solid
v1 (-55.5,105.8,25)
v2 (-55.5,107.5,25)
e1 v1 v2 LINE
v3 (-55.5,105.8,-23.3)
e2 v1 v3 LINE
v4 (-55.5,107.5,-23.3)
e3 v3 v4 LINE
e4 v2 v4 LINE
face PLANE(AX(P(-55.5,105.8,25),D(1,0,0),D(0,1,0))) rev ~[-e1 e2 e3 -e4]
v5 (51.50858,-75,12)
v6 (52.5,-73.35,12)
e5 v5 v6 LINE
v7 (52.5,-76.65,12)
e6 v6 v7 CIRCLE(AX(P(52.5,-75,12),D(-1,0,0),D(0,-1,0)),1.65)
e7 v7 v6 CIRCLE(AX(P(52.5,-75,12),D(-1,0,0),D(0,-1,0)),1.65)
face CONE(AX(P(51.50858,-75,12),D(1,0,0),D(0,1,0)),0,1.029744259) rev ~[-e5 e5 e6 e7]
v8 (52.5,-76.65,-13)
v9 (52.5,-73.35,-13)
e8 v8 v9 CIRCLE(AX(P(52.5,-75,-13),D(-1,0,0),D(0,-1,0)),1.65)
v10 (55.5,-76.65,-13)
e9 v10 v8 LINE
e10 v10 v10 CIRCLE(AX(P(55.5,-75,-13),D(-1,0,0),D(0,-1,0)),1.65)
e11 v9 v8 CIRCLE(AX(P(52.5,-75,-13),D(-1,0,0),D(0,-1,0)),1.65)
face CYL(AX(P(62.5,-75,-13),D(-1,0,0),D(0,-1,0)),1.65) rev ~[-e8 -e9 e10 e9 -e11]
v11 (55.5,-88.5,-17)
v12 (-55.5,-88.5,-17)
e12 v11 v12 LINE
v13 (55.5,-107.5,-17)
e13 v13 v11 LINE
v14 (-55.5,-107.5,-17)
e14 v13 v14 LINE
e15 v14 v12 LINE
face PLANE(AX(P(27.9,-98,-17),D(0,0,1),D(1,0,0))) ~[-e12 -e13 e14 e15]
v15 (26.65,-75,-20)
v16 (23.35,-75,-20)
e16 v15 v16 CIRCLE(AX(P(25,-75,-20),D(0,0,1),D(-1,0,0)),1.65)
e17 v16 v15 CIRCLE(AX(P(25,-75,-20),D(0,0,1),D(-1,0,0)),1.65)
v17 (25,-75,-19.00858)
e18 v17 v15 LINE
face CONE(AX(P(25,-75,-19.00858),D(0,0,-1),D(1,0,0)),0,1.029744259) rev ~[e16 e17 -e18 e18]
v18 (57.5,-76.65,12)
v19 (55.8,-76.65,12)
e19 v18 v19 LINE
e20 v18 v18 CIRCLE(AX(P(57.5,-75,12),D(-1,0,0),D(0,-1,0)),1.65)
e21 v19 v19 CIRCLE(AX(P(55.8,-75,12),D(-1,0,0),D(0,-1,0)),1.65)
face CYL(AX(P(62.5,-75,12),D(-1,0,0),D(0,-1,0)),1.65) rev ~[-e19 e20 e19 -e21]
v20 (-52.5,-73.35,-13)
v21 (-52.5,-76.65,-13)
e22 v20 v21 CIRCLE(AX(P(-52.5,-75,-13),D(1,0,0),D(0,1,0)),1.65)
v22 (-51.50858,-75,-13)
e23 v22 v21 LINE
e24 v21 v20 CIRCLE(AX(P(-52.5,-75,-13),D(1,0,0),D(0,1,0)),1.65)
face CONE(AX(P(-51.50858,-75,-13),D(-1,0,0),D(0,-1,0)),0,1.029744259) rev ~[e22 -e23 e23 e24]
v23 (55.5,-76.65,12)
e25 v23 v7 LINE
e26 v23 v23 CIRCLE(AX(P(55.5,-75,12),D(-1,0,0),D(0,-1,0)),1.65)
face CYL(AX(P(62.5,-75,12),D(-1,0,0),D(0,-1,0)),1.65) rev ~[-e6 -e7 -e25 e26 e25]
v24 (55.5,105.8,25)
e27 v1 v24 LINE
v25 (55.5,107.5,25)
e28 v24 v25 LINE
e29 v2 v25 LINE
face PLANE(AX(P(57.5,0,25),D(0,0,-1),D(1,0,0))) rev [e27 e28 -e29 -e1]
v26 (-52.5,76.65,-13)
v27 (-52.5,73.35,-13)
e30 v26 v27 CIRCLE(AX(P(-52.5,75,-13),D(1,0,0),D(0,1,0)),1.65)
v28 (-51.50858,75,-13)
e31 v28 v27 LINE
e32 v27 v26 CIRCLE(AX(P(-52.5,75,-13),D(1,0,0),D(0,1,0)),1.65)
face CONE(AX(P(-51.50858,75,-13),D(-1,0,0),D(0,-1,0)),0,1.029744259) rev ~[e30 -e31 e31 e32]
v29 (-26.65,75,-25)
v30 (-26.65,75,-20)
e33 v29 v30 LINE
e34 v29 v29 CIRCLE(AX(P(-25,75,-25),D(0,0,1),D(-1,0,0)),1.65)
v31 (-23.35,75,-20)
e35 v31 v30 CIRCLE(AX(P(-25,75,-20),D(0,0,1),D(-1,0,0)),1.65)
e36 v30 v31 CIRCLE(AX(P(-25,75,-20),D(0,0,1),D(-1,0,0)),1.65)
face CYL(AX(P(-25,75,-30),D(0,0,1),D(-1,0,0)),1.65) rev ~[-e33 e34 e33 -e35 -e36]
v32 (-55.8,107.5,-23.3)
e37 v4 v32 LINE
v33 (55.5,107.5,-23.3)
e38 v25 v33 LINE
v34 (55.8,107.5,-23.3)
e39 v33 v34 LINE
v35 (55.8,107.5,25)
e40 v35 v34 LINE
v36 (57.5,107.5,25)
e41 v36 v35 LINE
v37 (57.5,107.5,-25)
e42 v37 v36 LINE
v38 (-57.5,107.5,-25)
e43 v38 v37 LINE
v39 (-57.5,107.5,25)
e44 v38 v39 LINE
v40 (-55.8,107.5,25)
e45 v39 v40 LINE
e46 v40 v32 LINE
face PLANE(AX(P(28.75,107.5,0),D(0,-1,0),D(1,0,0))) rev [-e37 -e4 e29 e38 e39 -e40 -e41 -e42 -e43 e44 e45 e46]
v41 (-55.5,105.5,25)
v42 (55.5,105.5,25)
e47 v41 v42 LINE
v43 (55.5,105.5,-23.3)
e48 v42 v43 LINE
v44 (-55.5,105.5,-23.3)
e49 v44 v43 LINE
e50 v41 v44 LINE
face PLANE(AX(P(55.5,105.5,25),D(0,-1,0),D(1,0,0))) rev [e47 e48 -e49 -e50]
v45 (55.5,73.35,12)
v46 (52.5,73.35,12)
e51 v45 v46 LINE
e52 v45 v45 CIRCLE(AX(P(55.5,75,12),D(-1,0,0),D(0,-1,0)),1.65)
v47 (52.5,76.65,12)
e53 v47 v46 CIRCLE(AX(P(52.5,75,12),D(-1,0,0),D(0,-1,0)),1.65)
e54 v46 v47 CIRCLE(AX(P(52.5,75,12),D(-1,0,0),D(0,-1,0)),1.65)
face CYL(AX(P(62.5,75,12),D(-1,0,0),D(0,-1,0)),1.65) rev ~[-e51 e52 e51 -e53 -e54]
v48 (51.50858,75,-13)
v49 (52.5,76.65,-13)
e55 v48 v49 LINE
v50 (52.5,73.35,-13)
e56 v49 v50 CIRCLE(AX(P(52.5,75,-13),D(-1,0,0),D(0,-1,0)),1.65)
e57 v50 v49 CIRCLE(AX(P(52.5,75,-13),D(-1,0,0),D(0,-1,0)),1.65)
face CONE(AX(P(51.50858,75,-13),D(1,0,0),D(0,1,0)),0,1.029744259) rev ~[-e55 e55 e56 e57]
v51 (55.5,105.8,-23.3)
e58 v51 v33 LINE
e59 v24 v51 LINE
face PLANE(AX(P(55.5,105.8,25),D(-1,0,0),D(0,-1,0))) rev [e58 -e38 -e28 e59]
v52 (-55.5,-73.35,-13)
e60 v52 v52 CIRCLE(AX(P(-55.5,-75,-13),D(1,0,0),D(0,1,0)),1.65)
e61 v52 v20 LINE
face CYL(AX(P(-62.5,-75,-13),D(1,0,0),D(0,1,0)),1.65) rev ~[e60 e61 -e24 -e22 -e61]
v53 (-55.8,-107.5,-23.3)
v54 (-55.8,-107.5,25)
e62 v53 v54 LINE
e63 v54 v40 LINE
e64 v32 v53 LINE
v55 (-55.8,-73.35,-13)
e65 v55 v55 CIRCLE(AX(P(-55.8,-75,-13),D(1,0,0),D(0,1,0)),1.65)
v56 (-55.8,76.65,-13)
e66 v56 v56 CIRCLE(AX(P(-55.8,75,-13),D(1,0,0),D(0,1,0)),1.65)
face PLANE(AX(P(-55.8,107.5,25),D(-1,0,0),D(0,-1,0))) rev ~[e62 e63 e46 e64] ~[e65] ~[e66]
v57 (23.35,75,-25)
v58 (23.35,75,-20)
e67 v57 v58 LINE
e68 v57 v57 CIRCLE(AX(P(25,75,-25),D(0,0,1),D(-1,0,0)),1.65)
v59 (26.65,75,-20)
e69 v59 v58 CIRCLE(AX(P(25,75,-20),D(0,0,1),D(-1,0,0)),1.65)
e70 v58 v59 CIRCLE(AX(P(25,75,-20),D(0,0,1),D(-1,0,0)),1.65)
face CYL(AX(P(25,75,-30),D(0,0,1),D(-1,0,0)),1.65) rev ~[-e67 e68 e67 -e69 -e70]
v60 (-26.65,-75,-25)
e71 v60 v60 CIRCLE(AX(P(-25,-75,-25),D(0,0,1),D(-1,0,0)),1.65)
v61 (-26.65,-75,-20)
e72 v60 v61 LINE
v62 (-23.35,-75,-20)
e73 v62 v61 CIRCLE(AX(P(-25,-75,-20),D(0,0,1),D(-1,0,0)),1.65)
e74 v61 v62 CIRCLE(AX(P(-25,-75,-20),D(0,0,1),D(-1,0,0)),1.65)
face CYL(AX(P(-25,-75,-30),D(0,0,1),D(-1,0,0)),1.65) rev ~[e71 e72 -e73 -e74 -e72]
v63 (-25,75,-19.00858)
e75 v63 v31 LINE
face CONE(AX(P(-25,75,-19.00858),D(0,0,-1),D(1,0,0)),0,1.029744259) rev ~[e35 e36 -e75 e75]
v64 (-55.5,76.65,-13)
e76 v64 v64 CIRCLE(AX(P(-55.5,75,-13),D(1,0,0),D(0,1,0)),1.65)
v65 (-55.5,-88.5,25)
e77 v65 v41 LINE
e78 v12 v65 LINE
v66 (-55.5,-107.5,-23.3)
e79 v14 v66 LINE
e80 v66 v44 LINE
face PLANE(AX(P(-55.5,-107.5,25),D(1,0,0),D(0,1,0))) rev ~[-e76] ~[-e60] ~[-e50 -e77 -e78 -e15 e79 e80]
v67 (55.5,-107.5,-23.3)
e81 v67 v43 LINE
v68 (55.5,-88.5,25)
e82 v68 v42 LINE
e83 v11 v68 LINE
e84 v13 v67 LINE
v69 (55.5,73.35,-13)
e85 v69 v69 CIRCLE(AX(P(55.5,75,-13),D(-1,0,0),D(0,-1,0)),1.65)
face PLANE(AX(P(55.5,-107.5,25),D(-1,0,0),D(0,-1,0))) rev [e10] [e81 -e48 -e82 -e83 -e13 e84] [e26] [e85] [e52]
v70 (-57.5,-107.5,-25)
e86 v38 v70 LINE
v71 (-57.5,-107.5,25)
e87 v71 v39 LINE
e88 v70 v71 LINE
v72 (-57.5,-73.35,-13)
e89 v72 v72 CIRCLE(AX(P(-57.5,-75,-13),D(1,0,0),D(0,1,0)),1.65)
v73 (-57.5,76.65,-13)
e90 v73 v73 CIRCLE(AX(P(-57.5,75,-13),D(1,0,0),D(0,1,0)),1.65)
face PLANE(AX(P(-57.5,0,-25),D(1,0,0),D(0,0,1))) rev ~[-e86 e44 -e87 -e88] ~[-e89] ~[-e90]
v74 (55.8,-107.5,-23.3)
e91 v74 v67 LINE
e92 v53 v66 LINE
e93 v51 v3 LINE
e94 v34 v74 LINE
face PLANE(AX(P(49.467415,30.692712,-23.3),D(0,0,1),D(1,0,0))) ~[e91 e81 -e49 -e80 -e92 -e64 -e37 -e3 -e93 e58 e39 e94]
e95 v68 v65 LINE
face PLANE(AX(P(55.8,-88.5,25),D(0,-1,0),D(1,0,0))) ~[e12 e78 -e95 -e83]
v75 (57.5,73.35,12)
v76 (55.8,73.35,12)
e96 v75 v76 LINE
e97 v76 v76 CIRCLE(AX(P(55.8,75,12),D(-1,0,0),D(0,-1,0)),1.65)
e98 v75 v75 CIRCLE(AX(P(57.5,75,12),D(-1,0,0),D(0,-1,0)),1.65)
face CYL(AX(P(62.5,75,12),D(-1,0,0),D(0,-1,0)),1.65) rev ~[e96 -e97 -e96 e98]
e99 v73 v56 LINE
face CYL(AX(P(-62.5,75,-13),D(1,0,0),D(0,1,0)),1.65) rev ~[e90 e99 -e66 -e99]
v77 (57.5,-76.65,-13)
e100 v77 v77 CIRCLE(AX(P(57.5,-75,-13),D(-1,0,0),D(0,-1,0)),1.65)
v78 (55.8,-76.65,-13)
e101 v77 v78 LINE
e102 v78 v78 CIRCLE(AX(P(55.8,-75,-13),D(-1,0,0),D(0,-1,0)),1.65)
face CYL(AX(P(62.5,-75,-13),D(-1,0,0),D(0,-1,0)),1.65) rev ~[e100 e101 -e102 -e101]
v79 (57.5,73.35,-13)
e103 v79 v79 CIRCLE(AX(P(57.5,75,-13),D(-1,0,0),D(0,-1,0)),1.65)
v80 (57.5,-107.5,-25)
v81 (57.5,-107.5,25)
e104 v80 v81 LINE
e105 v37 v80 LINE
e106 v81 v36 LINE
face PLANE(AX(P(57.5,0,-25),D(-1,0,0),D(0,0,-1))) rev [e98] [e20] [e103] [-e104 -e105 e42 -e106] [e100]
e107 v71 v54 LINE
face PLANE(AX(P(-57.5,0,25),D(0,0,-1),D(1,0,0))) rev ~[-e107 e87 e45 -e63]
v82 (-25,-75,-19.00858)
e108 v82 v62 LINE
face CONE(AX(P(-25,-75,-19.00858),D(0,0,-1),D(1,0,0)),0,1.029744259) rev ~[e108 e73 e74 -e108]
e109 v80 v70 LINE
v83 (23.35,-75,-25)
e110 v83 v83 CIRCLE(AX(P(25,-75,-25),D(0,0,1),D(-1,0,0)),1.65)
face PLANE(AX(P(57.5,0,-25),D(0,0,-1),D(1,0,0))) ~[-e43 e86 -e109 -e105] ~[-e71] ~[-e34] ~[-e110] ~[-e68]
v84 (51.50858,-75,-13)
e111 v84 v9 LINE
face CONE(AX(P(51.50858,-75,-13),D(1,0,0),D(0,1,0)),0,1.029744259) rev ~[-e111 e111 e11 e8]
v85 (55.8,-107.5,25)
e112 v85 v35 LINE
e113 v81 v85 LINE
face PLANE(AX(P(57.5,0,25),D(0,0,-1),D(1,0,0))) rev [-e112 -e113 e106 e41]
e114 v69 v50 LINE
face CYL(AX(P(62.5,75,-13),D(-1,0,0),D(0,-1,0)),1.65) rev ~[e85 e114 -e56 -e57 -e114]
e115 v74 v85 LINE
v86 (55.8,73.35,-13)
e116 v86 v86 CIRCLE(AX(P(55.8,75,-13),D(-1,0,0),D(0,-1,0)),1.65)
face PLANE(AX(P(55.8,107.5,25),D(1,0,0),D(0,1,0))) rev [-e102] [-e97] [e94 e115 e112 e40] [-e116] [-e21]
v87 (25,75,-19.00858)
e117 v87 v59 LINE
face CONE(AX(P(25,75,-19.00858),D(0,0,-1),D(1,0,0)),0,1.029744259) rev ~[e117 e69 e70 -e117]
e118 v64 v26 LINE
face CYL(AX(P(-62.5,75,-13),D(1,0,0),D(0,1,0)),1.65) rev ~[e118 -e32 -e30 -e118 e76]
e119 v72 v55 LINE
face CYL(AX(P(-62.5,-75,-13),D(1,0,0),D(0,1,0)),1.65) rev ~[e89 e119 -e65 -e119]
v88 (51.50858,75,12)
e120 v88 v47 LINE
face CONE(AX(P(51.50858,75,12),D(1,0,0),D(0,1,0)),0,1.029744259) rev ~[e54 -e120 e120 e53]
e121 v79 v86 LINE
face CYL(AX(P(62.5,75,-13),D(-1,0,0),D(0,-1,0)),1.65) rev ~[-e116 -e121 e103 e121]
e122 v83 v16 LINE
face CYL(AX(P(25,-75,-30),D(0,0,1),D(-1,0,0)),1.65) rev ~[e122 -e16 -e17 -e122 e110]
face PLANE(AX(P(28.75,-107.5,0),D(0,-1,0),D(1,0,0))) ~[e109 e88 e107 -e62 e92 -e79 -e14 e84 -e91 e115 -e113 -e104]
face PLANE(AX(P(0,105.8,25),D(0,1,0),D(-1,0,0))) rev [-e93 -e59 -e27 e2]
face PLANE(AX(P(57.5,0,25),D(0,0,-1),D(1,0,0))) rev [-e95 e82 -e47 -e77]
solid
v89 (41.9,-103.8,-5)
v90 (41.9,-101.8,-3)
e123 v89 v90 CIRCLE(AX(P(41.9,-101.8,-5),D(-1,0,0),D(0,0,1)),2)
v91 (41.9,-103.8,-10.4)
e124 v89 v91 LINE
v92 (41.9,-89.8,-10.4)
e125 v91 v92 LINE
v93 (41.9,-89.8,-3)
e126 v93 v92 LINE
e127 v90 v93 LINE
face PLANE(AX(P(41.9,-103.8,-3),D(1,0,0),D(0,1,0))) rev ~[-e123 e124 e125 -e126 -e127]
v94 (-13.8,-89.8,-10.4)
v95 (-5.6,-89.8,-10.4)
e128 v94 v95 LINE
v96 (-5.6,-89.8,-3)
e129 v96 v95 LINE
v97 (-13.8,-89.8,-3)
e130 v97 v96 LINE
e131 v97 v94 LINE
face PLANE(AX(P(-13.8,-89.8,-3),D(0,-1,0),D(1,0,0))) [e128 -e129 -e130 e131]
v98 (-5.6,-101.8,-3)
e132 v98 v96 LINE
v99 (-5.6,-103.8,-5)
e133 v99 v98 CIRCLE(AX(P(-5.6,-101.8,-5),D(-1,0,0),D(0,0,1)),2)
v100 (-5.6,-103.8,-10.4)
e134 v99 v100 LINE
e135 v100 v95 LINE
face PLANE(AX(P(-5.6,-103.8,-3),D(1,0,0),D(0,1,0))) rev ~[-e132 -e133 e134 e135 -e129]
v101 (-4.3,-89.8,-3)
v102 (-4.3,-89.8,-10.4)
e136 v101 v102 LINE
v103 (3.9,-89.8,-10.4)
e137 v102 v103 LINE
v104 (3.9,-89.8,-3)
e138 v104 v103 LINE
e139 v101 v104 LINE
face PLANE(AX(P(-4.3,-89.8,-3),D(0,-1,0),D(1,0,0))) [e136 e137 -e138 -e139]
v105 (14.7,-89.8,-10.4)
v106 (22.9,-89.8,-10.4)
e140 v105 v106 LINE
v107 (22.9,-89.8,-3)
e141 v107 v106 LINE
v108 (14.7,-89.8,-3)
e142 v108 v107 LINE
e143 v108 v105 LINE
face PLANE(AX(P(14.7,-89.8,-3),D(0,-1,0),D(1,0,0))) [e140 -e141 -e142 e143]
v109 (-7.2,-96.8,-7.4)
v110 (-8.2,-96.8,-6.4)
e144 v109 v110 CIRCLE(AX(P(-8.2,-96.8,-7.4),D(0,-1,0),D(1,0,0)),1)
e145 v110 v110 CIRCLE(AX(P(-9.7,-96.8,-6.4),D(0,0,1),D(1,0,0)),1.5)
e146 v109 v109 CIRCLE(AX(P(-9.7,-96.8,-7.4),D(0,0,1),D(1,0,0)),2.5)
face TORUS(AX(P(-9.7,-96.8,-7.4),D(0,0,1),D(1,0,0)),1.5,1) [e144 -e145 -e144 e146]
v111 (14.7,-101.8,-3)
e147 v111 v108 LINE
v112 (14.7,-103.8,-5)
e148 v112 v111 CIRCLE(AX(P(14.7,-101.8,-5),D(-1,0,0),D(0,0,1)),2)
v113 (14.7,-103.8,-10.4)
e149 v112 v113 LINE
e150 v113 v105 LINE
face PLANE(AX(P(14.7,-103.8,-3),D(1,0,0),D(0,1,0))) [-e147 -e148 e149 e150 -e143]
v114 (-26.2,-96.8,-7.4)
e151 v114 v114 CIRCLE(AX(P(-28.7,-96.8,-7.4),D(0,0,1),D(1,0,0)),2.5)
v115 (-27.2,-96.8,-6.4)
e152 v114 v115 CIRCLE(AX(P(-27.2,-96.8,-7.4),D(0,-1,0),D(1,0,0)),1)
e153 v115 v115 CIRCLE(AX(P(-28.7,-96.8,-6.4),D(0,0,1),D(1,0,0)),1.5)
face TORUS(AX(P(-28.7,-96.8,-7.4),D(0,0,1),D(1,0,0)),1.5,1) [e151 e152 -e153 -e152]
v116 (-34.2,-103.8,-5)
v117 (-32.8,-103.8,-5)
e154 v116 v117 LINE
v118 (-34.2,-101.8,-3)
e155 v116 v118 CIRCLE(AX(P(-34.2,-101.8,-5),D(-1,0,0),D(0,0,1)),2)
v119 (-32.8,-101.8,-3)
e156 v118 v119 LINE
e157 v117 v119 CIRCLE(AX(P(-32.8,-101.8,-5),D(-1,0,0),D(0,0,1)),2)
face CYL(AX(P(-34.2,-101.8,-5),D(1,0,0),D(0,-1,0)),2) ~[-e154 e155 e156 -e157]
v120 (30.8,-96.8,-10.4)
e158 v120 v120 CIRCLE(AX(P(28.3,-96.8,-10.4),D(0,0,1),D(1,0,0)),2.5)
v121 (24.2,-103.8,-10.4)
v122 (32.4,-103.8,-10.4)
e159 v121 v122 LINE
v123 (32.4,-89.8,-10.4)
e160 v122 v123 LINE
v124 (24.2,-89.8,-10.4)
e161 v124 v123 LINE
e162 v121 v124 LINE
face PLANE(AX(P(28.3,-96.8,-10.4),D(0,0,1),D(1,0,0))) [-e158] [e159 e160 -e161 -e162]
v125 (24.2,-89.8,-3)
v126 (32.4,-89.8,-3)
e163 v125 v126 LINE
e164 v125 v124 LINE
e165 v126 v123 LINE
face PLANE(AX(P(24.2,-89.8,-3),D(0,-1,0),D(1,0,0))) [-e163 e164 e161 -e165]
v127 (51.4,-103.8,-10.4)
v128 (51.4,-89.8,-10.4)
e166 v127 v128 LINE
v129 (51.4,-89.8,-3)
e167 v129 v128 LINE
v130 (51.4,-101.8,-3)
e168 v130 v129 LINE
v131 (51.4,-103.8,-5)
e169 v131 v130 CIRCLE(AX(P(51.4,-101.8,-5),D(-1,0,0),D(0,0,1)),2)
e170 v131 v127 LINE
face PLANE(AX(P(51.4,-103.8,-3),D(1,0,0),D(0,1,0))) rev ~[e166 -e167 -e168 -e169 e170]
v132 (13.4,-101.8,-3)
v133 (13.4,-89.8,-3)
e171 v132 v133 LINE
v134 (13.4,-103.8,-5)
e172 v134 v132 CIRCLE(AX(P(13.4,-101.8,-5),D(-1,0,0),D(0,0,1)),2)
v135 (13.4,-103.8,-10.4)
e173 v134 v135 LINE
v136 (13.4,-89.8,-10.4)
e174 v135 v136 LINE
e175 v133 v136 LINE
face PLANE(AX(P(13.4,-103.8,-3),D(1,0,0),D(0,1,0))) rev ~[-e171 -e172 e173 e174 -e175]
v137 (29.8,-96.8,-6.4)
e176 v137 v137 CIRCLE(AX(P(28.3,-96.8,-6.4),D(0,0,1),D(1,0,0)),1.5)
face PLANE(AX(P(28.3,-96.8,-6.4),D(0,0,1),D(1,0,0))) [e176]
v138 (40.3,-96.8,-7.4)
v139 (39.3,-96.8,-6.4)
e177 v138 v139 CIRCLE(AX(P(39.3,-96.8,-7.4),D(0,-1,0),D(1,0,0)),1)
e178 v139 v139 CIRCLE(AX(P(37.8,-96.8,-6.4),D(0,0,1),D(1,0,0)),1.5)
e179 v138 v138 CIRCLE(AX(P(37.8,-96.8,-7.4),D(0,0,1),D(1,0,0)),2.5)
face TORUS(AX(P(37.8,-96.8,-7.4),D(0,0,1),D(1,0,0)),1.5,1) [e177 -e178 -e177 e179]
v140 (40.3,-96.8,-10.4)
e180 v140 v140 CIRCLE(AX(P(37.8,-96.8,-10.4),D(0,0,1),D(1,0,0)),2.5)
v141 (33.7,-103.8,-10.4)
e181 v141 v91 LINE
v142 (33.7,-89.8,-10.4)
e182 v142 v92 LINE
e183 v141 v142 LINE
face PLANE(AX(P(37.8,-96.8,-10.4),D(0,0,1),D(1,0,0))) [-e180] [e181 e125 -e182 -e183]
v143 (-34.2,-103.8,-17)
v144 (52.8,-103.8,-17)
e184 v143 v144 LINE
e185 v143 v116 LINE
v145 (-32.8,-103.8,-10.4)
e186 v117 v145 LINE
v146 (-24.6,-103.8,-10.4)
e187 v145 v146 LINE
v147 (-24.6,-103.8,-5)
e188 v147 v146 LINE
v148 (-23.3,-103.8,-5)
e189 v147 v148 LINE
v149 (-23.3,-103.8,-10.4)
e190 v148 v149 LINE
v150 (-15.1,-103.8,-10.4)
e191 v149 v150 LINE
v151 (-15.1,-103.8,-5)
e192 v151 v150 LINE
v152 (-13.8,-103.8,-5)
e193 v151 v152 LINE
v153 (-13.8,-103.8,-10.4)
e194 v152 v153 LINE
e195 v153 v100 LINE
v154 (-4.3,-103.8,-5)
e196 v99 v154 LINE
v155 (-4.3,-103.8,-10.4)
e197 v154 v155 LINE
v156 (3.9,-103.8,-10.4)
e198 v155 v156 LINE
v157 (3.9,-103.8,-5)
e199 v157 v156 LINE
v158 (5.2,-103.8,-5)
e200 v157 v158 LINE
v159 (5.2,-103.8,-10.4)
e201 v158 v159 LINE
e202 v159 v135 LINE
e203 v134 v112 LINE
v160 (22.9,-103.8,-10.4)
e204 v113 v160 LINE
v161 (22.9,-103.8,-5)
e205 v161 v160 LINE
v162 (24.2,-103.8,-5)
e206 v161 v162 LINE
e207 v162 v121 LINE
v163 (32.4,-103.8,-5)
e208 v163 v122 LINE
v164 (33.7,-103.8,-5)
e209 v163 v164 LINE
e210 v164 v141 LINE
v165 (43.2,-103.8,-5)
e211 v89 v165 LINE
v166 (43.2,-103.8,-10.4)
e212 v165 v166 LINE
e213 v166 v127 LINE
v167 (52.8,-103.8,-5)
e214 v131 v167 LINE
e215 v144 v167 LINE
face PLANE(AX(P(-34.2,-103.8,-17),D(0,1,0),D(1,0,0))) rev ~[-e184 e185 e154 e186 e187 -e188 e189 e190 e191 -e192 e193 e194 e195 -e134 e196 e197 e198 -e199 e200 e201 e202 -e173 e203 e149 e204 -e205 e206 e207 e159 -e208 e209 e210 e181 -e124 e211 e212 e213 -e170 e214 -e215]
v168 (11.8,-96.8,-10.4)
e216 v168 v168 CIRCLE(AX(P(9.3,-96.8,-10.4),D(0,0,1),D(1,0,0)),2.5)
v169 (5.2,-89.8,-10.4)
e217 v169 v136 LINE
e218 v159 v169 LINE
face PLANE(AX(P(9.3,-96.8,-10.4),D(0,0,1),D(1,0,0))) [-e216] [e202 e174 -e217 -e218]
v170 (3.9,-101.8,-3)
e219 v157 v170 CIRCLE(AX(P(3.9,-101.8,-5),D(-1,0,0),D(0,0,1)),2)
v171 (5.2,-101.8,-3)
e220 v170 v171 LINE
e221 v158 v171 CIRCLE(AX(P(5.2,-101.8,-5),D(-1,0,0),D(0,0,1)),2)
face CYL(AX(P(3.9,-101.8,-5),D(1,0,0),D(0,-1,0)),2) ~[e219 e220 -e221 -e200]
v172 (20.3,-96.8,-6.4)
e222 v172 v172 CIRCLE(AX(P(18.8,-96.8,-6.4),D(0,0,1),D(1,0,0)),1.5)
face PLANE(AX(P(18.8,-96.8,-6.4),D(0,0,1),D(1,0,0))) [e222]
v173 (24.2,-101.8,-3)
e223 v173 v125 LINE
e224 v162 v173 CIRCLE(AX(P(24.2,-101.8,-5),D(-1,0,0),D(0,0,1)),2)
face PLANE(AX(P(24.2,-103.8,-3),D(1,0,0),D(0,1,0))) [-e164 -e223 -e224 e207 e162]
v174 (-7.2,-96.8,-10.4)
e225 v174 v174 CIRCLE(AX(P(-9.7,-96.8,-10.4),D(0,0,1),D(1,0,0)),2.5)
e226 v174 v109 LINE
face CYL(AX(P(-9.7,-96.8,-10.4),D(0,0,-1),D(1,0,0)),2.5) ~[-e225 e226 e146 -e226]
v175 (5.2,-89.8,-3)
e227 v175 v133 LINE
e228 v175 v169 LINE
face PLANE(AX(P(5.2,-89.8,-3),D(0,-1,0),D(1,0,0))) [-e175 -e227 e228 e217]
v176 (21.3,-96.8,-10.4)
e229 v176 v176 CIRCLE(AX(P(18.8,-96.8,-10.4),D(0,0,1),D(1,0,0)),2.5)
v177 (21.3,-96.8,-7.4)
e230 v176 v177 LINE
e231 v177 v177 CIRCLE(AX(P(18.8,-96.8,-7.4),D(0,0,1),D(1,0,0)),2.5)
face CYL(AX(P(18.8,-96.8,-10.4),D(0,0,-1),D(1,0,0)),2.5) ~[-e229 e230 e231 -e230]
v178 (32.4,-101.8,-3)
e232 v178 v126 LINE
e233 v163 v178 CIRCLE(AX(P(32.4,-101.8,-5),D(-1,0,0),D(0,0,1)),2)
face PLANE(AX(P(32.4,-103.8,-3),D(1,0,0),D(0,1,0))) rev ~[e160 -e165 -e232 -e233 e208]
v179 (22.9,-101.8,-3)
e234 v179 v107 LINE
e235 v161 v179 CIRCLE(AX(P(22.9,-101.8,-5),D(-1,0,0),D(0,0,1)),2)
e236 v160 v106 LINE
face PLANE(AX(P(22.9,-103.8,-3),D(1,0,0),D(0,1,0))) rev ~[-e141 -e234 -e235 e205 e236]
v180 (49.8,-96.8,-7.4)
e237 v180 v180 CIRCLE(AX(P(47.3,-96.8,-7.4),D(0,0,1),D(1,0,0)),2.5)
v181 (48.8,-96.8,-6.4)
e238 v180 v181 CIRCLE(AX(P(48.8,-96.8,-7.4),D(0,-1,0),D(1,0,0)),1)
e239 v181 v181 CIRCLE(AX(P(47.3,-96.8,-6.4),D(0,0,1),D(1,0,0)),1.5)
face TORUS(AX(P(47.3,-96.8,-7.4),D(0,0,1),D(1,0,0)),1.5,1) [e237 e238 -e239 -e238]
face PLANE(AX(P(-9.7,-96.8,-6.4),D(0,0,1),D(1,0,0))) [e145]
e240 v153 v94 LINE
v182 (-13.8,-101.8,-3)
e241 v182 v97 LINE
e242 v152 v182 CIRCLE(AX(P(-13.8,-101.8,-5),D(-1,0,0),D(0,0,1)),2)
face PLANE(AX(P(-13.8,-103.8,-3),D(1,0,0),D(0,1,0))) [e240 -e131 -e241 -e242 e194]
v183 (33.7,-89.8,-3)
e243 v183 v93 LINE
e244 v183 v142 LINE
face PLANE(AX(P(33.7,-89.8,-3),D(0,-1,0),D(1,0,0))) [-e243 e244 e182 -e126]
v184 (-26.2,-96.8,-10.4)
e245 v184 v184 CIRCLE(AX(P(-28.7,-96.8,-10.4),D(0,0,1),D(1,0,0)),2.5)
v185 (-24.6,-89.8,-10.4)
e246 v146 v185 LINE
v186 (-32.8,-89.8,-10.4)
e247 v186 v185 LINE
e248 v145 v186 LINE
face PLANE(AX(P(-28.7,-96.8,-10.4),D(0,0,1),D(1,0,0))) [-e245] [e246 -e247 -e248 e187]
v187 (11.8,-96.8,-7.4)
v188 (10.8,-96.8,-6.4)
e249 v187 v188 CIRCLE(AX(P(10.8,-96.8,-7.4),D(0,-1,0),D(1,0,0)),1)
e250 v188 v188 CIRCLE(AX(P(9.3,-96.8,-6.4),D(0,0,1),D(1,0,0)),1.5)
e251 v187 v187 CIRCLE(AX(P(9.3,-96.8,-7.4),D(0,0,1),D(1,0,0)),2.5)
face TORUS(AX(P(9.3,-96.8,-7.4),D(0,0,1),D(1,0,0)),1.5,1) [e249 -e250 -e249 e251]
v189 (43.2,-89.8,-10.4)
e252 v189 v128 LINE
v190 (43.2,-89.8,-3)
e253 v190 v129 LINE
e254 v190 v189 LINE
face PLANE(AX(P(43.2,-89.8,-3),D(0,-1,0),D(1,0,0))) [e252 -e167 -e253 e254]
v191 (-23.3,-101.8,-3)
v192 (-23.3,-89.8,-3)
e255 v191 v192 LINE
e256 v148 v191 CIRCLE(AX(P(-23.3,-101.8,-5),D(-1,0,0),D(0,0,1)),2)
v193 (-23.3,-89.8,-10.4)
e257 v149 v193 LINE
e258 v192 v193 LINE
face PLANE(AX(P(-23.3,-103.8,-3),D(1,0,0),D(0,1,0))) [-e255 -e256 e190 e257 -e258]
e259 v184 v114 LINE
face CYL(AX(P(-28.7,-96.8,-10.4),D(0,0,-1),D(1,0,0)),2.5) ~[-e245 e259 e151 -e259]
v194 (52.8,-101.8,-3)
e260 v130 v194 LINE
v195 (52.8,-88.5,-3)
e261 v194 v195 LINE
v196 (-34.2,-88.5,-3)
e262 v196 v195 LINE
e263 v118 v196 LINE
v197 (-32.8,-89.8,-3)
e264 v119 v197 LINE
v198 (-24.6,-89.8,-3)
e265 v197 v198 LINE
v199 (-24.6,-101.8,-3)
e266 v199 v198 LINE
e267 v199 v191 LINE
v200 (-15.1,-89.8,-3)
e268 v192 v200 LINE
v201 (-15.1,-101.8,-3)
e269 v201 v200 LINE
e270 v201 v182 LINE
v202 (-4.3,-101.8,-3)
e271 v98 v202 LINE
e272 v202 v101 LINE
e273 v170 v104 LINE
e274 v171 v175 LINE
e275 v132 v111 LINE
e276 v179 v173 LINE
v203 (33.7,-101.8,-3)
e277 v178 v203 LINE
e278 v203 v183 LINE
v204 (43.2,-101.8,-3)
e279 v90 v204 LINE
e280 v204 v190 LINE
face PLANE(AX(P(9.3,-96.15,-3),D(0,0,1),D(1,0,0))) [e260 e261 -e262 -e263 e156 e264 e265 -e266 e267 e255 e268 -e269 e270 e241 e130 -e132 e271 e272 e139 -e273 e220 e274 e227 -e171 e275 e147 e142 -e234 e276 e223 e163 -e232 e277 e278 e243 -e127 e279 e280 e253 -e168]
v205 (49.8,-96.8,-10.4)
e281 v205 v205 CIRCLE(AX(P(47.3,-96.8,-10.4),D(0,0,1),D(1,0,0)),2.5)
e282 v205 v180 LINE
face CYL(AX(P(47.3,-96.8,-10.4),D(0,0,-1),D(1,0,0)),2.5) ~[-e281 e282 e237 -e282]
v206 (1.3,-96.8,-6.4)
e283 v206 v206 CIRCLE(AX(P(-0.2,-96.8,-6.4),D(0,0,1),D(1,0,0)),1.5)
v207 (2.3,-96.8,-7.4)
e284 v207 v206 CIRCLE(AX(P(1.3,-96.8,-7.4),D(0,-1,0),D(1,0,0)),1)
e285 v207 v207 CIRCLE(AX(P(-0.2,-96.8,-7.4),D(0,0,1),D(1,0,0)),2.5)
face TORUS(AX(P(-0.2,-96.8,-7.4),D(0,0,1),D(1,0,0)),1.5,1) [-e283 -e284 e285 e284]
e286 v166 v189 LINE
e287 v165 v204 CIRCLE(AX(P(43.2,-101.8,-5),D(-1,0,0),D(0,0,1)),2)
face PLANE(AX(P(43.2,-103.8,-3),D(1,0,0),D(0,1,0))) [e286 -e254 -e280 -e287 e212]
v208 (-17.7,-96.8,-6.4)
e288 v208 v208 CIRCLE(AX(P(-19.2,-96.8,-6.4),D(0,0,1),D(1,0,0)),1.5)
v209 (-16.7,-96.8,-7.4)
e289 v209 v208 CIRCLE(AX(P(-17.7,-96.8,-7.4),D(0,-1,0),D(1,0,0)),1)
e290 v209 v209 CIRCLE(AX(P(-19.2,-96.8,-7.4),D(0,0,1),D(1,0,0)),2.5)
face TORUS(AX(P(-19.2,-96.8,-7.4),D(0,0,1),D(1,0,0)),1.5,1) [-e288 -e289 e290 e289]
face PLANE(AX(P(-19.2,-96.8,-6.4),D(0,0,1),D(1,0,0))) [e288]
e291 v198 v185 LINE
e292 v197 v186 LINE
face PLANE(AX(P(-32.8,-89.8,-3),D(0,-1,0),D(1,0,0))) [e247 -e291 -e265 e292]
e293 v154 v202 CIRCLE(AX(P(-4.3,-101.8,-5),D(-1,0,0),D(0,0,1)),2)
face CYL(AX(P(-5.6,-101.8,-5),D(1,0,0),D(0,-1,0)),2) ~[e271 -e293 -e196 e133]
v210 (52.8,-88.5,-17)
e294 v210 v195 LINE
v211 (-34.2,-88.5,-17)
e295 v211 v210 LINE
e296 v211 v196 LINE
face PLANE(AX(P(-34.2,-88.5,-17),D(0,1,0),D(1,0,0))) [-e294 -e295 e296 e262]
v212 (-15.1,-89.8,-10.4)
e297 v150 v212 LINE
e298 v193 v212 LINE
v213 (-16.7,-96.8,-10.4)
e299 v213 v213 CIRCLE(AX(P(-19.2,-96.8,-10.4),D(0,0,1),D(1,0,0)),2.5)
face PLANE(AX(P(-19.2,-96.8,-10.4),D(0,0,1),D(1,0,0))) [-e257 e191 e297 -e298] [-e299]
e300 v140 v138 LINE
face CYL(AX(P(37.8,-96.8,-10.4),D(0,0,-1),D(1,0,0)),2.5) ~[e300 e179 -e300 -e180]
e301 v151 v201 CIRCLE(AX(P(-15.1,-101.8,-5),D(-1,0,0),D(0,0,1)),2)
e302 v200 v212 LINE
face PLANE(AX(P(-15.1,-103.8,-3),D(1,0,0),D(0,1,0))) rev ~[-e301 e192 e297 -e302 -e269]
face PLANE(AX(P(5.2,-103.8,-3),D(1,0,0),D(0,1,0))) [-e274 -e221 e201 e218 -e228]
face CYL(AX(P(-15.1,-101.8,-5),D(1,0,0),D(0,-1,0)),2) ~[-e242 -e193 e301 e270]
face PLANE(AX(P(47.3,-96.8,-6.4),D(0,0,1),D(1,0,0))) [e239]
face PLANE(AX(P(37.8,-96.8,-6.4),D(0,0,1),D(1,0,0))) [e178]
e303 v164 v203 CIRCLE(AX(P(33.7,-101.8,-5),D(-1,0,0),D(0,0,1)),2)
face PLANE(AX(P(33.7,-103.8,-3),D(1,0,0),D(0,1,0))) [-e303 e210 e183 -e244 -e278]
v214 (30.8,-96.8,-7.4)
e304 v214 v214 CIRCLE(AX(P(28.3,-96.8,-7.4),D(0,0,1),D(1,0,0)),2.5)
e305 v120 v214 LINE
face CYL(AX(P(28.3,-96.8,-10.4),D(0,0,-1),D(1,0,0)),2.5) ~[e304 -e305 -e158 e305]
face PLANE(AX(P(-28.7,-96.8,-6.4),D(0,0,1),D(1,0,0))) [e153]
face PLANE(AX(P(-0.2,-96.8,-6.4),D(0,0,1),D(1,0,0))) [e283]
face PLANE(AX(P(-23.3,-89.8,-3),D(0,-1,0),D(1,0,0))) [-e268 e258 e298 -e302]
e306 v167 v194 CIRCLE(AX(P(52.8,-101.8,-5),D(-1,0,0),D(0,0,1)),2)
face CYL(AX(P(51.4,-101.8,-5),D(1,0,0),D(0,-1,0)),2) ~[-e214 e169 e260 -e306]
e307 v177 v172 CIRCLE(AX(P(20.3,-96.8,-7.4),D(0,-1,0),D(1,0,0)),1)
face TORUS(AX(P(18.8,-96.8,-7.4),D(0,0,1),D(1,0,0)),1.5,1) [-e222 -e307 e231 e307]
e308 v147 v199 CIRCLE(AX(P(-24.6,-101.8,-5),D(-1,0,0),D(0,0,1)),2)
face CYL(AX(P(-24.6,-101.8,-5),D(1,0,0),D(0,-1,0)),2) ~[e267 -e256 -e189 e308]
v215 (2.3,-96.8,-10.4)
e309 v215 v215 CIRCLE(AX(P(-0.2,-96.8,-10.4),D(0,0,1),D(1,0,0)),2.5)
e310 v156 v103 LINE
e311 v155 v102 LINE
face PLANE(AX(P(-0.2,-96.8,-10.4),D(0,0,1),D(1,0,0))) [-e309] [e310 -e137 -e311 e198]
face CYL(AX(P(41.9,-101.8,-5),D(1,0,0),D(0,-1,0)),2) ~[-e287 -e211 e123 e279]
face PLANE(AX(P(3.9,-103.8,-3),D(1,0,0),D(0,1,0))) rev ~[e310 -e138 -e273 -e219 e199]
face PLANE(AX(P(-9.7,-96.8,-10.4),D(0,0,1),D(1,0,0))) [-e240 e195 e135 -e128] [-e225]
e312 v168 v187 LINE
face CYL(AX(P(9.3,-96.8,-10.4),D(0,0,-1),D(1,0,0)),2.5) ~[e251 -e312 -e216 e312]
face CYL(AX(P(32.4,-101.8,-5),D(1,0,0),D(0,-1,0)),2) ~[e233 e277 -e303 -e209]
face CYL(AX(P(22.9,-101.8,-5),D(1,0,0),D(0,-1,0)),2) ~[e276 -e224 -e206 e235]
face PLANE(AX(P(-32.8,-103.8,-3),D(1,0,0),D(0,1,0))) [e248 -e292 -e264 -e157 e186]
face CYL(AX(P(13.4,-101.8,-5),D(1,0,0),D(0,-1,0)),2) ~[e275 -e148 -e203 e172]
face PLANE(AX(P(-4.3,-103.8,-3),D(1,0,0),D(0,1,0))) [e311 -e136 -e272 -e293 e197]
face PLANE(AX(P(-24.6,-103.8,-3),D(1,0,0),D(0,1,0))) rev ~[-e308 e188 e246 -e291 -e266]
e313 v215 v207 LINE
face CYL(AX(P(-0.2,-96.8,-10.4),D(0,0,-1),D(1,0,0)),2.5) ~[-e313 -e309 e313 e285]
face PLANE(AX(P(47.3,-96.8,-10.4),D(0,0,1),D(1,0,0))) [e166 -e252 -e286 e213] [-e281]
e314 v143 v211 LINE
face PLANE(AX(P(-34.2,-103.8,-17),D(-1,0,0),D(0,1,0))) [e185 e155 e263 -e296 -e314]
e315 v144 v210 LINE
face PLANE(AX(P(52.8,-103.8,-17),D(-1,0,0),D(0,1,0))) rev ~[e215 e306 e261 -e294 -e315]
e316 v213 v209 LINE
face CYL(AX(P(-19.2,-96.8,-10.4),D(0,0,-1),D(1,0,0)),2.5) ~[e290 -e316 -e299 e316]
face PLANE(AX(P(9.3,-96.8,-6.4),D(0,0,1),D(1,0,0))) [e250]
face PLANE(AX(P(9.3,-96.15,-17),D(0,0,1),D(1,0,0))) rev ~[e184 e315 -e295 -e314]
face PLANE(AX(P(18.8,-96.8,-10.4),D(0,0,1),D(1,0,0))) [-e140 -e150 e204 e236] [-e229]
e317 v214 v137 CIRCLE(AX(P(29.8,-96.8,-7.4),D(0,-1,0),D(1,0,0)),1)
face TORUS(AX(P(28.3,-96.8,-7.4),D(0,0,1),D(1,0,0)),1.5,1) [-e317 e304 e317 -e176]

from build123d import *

# Parameters (mm, degrees)
F0_W             = 57.5
F0_H             = 50
F1_DEPTH         = 107.5
F2_W             = 55.8
F2_H             = 19
F3_DEPTH         = 42
F4_W             = 0.3
F4_H             = 19
F5_DEPTH         = 48.3
F7_W             = 87
F7_H             = 15.3
F8_DEPTH         = 14
F9_W             = 8.2
F9_H             = 14
F10_DEPTH        = 7.4
F11_R            = 2
F12_R            = 2.5
F13_DEPTH        = 4
F14_R            = 1
F18_D            = 3.3
F18_DEPTH        = 5
F18_TIP          = 0.9914200214
F18_ON_F17_D     = 3.3
F18_ON_F17_DEPTH = 5
F18_ON_F17_TIP   = 0.9914200214
F18_ON_F16_D     = 3.3
F18_ON_F16_DEPTH = 5
F18_ON_F16_TIP   = 0.9914200214


with BuildPart() as f1:
    # F0 (on Front) → F1 (new body, symmetric)
    with BuildSketch(Plane.XZ):
        with Locations((-28.75, 0)):
            Rectangle(F0_W, F0_H)
    extrude(amount=F1_DEPTH, both=True)

    # F2 (on face) → F3 (cut)
    with BuildSketch(Plane.XY.offset(25)):
        with Locations((-27.9, -98)):
            Rectangle(F2_W, F2_H)
    extrude(amount=-F3_DEPTH, mode=Mode.SUBTRACT)

    # F4 (on face) → F5 (cut)
    with BuildSketch(Plane.XY.offset(25)):
        Polygon((-55.8, 107.5), (-55.8, -88.5), (-55.5, -88.5), (-55.5, 105.5), (0, 105.5), (0, 105.8), (-55.5, 105.8), (-55.5, 107.5), align=None)
        with Locations((-55.65, -98)):
            Rectangle(F4_W, F4_H)
    extrude(amount=-F5_DEPTH, mode=Mode.SUBTRACT)

    # F6: F1 across plane


with BuildPart() as f1_1:
    add(f1.part)
    add(f1.part.mirror(Plane.YZ))

    # F18
    with Locations(Plane(origin=(-57.5, 0, 0), x_dir=(0, -1, 0), z_dir=(-1, 0, 0))):
        with Locations((-75, -13), (75, -13)):
            Hole(F18_D / 2, depth=F18_DEPTH)
            with Locations((0, 0, -(F18_DEPTH + F18_TIP / 2))):  # 118° drill point
                Cone(0, F18_D / 2, F18_TIP, mode=Mode.SUBTRACT)

    # F18 on F17
    with Locations(Plane(origin=(0, 0, -25), x_dir=(1, 0, 0), z_dir=(0, 0, -1))):
        with Locations((-25, -75), (-25, 75), (25, -75), (25, 75)):
            Hole(F18_ON_F17_D / 2, depth=F18_ON_F17_DEPTH)
            with Locations((0, 0, -(F18_ON_F17_DEPTH + F18_ON_F17_TIP / 2))):  # 118° drill point
                Cone(0, F18_ON_F17_D / 2, F18_ON_F17_TIP, mode=Mode.SUBTRACT)

    # F18 on F16
    with Locations(Plane.YZ.offset(57.5)):
        with Locations((-75, -13), (-75, 12), (75, 12), (75, -13)):
            Hole(F18_ON_F16_D / 2, depth=F18_ON_F16_DEPTH)
            with Locations((0, 0, -(F18_ON_F16_DEPTH + F18_ON_F16_TIP / 2))):  # 118° drill point
                Cone(0, F18_ON_F16_D / 2, F18_ON_F16_TIP, mode=Mode.SUBTRACT)


with BuildPart() as f8:
    # F7 (on face) → F8 (new body)
    with BuildSketch(Plane.XY.offset(-17)):
        with Locations((9.3, -96.15)):
            Rectangle(F7_W, F7_H)
    extrude(amount=F8_DEPTH)

    # F9 (on face) → F10 (cut)
    with BuildSketch(Plane.XY.offset(-3)):
        with Locations((-28.7, -96.8)):
            Rectangle(F9_W, F9_H)
        with Locations((-19.2, -96.8)):
            Rectangle(F9_W, F9_H)
        with Locations((-9.7, -96.8)):
            Rectangle(F9_W, F9_H)
        with Locations((-0.2, -96.8)):
            Rectangle(F9_W, F9_H)
        with Locations((9.3, -96.8)):
            Rectangle(F9_W, F9_H)
        with Locations((18.8, -96.8)):
            Rectangle(F9_W, F9_H)
        with Locations((28.3, -96.8)):
            Rectangle(F9_W, F9_H)
        with Locations((37.8, -96.8)):
            Rectangle(F9_W, F9_H)
        with Locations((47.3, -96.8)):
            Rectangle(F9_W, F9_H)
    extrude(amount=-F10_DEPTH, mode=Mode.SUBTRACT)

    # F11
    f11_edges = [f8.edges().sort_by_distance(p)[0] for p in [
        (-33.5, -103.8, -3),
        (-23.95, -103.8, -3),
        (-14.45, -103.8, -3),
        (-4.95, -103.8, -3),
        (4.55, -103.8, -3),
        (14.05, -103.8, -3),
        (23.55, -103.8, -3),
        (33.05, -103.8, -3),
        (42.55, -103.8, -3),
        (52.1, -103.8, -3),
    ]]
    fillet(f11_edges, radius=F11_R)

    # F12 (on face) → F13 (join)
    with BuildSketch(Plane.XY.offset(-10.4)):
        with Locations((-28.7, -96.8)):
            Circle(F12_R)
        with Locations((-19.2, -96.8)):
            Circle(F12_R)
        with Locations((-9.7, -96.8)):
            Circle(F12_R)
        with Locations((-0.2, -96.8)):
            Circle(F12_R)
        with Locations((9.3, -96.8)):
            Circle(F12_R)
        with Locations((18.8, -96.8)):
            Circle(F12_R)
        with Locations((28.3, -96.8)):
            Circle(F12_R)
        with Locations((37.8, -96.8)):
            Circle(F12_R)
        with Locations((47.3, -96.8)):
            Circle(F12_R)
    extrude(amount=F13_DEPTH)

    # F14
    f14_edges = [f8.edges().sort_by_distance(p)[0] for p in [
        (-31.2, -96.8, -6.4),
        (-21.7, -96.8, -6.4),
        (-12.2, -96.8, -6.4),
        (-2.7, -96.8, -6.4),
        (6.8, -96.8, -6.4),
        (16.3, -96.8, -6.4),
        (25.8, -96.8, -6.4),
        (35.3, -96.8, -6.4),
        (44.8, -96.8, -6.4),
    ]]
    fillet(f14_edges, radius=F14_R)


solid = Compound([f1_1.part, f8.part])
